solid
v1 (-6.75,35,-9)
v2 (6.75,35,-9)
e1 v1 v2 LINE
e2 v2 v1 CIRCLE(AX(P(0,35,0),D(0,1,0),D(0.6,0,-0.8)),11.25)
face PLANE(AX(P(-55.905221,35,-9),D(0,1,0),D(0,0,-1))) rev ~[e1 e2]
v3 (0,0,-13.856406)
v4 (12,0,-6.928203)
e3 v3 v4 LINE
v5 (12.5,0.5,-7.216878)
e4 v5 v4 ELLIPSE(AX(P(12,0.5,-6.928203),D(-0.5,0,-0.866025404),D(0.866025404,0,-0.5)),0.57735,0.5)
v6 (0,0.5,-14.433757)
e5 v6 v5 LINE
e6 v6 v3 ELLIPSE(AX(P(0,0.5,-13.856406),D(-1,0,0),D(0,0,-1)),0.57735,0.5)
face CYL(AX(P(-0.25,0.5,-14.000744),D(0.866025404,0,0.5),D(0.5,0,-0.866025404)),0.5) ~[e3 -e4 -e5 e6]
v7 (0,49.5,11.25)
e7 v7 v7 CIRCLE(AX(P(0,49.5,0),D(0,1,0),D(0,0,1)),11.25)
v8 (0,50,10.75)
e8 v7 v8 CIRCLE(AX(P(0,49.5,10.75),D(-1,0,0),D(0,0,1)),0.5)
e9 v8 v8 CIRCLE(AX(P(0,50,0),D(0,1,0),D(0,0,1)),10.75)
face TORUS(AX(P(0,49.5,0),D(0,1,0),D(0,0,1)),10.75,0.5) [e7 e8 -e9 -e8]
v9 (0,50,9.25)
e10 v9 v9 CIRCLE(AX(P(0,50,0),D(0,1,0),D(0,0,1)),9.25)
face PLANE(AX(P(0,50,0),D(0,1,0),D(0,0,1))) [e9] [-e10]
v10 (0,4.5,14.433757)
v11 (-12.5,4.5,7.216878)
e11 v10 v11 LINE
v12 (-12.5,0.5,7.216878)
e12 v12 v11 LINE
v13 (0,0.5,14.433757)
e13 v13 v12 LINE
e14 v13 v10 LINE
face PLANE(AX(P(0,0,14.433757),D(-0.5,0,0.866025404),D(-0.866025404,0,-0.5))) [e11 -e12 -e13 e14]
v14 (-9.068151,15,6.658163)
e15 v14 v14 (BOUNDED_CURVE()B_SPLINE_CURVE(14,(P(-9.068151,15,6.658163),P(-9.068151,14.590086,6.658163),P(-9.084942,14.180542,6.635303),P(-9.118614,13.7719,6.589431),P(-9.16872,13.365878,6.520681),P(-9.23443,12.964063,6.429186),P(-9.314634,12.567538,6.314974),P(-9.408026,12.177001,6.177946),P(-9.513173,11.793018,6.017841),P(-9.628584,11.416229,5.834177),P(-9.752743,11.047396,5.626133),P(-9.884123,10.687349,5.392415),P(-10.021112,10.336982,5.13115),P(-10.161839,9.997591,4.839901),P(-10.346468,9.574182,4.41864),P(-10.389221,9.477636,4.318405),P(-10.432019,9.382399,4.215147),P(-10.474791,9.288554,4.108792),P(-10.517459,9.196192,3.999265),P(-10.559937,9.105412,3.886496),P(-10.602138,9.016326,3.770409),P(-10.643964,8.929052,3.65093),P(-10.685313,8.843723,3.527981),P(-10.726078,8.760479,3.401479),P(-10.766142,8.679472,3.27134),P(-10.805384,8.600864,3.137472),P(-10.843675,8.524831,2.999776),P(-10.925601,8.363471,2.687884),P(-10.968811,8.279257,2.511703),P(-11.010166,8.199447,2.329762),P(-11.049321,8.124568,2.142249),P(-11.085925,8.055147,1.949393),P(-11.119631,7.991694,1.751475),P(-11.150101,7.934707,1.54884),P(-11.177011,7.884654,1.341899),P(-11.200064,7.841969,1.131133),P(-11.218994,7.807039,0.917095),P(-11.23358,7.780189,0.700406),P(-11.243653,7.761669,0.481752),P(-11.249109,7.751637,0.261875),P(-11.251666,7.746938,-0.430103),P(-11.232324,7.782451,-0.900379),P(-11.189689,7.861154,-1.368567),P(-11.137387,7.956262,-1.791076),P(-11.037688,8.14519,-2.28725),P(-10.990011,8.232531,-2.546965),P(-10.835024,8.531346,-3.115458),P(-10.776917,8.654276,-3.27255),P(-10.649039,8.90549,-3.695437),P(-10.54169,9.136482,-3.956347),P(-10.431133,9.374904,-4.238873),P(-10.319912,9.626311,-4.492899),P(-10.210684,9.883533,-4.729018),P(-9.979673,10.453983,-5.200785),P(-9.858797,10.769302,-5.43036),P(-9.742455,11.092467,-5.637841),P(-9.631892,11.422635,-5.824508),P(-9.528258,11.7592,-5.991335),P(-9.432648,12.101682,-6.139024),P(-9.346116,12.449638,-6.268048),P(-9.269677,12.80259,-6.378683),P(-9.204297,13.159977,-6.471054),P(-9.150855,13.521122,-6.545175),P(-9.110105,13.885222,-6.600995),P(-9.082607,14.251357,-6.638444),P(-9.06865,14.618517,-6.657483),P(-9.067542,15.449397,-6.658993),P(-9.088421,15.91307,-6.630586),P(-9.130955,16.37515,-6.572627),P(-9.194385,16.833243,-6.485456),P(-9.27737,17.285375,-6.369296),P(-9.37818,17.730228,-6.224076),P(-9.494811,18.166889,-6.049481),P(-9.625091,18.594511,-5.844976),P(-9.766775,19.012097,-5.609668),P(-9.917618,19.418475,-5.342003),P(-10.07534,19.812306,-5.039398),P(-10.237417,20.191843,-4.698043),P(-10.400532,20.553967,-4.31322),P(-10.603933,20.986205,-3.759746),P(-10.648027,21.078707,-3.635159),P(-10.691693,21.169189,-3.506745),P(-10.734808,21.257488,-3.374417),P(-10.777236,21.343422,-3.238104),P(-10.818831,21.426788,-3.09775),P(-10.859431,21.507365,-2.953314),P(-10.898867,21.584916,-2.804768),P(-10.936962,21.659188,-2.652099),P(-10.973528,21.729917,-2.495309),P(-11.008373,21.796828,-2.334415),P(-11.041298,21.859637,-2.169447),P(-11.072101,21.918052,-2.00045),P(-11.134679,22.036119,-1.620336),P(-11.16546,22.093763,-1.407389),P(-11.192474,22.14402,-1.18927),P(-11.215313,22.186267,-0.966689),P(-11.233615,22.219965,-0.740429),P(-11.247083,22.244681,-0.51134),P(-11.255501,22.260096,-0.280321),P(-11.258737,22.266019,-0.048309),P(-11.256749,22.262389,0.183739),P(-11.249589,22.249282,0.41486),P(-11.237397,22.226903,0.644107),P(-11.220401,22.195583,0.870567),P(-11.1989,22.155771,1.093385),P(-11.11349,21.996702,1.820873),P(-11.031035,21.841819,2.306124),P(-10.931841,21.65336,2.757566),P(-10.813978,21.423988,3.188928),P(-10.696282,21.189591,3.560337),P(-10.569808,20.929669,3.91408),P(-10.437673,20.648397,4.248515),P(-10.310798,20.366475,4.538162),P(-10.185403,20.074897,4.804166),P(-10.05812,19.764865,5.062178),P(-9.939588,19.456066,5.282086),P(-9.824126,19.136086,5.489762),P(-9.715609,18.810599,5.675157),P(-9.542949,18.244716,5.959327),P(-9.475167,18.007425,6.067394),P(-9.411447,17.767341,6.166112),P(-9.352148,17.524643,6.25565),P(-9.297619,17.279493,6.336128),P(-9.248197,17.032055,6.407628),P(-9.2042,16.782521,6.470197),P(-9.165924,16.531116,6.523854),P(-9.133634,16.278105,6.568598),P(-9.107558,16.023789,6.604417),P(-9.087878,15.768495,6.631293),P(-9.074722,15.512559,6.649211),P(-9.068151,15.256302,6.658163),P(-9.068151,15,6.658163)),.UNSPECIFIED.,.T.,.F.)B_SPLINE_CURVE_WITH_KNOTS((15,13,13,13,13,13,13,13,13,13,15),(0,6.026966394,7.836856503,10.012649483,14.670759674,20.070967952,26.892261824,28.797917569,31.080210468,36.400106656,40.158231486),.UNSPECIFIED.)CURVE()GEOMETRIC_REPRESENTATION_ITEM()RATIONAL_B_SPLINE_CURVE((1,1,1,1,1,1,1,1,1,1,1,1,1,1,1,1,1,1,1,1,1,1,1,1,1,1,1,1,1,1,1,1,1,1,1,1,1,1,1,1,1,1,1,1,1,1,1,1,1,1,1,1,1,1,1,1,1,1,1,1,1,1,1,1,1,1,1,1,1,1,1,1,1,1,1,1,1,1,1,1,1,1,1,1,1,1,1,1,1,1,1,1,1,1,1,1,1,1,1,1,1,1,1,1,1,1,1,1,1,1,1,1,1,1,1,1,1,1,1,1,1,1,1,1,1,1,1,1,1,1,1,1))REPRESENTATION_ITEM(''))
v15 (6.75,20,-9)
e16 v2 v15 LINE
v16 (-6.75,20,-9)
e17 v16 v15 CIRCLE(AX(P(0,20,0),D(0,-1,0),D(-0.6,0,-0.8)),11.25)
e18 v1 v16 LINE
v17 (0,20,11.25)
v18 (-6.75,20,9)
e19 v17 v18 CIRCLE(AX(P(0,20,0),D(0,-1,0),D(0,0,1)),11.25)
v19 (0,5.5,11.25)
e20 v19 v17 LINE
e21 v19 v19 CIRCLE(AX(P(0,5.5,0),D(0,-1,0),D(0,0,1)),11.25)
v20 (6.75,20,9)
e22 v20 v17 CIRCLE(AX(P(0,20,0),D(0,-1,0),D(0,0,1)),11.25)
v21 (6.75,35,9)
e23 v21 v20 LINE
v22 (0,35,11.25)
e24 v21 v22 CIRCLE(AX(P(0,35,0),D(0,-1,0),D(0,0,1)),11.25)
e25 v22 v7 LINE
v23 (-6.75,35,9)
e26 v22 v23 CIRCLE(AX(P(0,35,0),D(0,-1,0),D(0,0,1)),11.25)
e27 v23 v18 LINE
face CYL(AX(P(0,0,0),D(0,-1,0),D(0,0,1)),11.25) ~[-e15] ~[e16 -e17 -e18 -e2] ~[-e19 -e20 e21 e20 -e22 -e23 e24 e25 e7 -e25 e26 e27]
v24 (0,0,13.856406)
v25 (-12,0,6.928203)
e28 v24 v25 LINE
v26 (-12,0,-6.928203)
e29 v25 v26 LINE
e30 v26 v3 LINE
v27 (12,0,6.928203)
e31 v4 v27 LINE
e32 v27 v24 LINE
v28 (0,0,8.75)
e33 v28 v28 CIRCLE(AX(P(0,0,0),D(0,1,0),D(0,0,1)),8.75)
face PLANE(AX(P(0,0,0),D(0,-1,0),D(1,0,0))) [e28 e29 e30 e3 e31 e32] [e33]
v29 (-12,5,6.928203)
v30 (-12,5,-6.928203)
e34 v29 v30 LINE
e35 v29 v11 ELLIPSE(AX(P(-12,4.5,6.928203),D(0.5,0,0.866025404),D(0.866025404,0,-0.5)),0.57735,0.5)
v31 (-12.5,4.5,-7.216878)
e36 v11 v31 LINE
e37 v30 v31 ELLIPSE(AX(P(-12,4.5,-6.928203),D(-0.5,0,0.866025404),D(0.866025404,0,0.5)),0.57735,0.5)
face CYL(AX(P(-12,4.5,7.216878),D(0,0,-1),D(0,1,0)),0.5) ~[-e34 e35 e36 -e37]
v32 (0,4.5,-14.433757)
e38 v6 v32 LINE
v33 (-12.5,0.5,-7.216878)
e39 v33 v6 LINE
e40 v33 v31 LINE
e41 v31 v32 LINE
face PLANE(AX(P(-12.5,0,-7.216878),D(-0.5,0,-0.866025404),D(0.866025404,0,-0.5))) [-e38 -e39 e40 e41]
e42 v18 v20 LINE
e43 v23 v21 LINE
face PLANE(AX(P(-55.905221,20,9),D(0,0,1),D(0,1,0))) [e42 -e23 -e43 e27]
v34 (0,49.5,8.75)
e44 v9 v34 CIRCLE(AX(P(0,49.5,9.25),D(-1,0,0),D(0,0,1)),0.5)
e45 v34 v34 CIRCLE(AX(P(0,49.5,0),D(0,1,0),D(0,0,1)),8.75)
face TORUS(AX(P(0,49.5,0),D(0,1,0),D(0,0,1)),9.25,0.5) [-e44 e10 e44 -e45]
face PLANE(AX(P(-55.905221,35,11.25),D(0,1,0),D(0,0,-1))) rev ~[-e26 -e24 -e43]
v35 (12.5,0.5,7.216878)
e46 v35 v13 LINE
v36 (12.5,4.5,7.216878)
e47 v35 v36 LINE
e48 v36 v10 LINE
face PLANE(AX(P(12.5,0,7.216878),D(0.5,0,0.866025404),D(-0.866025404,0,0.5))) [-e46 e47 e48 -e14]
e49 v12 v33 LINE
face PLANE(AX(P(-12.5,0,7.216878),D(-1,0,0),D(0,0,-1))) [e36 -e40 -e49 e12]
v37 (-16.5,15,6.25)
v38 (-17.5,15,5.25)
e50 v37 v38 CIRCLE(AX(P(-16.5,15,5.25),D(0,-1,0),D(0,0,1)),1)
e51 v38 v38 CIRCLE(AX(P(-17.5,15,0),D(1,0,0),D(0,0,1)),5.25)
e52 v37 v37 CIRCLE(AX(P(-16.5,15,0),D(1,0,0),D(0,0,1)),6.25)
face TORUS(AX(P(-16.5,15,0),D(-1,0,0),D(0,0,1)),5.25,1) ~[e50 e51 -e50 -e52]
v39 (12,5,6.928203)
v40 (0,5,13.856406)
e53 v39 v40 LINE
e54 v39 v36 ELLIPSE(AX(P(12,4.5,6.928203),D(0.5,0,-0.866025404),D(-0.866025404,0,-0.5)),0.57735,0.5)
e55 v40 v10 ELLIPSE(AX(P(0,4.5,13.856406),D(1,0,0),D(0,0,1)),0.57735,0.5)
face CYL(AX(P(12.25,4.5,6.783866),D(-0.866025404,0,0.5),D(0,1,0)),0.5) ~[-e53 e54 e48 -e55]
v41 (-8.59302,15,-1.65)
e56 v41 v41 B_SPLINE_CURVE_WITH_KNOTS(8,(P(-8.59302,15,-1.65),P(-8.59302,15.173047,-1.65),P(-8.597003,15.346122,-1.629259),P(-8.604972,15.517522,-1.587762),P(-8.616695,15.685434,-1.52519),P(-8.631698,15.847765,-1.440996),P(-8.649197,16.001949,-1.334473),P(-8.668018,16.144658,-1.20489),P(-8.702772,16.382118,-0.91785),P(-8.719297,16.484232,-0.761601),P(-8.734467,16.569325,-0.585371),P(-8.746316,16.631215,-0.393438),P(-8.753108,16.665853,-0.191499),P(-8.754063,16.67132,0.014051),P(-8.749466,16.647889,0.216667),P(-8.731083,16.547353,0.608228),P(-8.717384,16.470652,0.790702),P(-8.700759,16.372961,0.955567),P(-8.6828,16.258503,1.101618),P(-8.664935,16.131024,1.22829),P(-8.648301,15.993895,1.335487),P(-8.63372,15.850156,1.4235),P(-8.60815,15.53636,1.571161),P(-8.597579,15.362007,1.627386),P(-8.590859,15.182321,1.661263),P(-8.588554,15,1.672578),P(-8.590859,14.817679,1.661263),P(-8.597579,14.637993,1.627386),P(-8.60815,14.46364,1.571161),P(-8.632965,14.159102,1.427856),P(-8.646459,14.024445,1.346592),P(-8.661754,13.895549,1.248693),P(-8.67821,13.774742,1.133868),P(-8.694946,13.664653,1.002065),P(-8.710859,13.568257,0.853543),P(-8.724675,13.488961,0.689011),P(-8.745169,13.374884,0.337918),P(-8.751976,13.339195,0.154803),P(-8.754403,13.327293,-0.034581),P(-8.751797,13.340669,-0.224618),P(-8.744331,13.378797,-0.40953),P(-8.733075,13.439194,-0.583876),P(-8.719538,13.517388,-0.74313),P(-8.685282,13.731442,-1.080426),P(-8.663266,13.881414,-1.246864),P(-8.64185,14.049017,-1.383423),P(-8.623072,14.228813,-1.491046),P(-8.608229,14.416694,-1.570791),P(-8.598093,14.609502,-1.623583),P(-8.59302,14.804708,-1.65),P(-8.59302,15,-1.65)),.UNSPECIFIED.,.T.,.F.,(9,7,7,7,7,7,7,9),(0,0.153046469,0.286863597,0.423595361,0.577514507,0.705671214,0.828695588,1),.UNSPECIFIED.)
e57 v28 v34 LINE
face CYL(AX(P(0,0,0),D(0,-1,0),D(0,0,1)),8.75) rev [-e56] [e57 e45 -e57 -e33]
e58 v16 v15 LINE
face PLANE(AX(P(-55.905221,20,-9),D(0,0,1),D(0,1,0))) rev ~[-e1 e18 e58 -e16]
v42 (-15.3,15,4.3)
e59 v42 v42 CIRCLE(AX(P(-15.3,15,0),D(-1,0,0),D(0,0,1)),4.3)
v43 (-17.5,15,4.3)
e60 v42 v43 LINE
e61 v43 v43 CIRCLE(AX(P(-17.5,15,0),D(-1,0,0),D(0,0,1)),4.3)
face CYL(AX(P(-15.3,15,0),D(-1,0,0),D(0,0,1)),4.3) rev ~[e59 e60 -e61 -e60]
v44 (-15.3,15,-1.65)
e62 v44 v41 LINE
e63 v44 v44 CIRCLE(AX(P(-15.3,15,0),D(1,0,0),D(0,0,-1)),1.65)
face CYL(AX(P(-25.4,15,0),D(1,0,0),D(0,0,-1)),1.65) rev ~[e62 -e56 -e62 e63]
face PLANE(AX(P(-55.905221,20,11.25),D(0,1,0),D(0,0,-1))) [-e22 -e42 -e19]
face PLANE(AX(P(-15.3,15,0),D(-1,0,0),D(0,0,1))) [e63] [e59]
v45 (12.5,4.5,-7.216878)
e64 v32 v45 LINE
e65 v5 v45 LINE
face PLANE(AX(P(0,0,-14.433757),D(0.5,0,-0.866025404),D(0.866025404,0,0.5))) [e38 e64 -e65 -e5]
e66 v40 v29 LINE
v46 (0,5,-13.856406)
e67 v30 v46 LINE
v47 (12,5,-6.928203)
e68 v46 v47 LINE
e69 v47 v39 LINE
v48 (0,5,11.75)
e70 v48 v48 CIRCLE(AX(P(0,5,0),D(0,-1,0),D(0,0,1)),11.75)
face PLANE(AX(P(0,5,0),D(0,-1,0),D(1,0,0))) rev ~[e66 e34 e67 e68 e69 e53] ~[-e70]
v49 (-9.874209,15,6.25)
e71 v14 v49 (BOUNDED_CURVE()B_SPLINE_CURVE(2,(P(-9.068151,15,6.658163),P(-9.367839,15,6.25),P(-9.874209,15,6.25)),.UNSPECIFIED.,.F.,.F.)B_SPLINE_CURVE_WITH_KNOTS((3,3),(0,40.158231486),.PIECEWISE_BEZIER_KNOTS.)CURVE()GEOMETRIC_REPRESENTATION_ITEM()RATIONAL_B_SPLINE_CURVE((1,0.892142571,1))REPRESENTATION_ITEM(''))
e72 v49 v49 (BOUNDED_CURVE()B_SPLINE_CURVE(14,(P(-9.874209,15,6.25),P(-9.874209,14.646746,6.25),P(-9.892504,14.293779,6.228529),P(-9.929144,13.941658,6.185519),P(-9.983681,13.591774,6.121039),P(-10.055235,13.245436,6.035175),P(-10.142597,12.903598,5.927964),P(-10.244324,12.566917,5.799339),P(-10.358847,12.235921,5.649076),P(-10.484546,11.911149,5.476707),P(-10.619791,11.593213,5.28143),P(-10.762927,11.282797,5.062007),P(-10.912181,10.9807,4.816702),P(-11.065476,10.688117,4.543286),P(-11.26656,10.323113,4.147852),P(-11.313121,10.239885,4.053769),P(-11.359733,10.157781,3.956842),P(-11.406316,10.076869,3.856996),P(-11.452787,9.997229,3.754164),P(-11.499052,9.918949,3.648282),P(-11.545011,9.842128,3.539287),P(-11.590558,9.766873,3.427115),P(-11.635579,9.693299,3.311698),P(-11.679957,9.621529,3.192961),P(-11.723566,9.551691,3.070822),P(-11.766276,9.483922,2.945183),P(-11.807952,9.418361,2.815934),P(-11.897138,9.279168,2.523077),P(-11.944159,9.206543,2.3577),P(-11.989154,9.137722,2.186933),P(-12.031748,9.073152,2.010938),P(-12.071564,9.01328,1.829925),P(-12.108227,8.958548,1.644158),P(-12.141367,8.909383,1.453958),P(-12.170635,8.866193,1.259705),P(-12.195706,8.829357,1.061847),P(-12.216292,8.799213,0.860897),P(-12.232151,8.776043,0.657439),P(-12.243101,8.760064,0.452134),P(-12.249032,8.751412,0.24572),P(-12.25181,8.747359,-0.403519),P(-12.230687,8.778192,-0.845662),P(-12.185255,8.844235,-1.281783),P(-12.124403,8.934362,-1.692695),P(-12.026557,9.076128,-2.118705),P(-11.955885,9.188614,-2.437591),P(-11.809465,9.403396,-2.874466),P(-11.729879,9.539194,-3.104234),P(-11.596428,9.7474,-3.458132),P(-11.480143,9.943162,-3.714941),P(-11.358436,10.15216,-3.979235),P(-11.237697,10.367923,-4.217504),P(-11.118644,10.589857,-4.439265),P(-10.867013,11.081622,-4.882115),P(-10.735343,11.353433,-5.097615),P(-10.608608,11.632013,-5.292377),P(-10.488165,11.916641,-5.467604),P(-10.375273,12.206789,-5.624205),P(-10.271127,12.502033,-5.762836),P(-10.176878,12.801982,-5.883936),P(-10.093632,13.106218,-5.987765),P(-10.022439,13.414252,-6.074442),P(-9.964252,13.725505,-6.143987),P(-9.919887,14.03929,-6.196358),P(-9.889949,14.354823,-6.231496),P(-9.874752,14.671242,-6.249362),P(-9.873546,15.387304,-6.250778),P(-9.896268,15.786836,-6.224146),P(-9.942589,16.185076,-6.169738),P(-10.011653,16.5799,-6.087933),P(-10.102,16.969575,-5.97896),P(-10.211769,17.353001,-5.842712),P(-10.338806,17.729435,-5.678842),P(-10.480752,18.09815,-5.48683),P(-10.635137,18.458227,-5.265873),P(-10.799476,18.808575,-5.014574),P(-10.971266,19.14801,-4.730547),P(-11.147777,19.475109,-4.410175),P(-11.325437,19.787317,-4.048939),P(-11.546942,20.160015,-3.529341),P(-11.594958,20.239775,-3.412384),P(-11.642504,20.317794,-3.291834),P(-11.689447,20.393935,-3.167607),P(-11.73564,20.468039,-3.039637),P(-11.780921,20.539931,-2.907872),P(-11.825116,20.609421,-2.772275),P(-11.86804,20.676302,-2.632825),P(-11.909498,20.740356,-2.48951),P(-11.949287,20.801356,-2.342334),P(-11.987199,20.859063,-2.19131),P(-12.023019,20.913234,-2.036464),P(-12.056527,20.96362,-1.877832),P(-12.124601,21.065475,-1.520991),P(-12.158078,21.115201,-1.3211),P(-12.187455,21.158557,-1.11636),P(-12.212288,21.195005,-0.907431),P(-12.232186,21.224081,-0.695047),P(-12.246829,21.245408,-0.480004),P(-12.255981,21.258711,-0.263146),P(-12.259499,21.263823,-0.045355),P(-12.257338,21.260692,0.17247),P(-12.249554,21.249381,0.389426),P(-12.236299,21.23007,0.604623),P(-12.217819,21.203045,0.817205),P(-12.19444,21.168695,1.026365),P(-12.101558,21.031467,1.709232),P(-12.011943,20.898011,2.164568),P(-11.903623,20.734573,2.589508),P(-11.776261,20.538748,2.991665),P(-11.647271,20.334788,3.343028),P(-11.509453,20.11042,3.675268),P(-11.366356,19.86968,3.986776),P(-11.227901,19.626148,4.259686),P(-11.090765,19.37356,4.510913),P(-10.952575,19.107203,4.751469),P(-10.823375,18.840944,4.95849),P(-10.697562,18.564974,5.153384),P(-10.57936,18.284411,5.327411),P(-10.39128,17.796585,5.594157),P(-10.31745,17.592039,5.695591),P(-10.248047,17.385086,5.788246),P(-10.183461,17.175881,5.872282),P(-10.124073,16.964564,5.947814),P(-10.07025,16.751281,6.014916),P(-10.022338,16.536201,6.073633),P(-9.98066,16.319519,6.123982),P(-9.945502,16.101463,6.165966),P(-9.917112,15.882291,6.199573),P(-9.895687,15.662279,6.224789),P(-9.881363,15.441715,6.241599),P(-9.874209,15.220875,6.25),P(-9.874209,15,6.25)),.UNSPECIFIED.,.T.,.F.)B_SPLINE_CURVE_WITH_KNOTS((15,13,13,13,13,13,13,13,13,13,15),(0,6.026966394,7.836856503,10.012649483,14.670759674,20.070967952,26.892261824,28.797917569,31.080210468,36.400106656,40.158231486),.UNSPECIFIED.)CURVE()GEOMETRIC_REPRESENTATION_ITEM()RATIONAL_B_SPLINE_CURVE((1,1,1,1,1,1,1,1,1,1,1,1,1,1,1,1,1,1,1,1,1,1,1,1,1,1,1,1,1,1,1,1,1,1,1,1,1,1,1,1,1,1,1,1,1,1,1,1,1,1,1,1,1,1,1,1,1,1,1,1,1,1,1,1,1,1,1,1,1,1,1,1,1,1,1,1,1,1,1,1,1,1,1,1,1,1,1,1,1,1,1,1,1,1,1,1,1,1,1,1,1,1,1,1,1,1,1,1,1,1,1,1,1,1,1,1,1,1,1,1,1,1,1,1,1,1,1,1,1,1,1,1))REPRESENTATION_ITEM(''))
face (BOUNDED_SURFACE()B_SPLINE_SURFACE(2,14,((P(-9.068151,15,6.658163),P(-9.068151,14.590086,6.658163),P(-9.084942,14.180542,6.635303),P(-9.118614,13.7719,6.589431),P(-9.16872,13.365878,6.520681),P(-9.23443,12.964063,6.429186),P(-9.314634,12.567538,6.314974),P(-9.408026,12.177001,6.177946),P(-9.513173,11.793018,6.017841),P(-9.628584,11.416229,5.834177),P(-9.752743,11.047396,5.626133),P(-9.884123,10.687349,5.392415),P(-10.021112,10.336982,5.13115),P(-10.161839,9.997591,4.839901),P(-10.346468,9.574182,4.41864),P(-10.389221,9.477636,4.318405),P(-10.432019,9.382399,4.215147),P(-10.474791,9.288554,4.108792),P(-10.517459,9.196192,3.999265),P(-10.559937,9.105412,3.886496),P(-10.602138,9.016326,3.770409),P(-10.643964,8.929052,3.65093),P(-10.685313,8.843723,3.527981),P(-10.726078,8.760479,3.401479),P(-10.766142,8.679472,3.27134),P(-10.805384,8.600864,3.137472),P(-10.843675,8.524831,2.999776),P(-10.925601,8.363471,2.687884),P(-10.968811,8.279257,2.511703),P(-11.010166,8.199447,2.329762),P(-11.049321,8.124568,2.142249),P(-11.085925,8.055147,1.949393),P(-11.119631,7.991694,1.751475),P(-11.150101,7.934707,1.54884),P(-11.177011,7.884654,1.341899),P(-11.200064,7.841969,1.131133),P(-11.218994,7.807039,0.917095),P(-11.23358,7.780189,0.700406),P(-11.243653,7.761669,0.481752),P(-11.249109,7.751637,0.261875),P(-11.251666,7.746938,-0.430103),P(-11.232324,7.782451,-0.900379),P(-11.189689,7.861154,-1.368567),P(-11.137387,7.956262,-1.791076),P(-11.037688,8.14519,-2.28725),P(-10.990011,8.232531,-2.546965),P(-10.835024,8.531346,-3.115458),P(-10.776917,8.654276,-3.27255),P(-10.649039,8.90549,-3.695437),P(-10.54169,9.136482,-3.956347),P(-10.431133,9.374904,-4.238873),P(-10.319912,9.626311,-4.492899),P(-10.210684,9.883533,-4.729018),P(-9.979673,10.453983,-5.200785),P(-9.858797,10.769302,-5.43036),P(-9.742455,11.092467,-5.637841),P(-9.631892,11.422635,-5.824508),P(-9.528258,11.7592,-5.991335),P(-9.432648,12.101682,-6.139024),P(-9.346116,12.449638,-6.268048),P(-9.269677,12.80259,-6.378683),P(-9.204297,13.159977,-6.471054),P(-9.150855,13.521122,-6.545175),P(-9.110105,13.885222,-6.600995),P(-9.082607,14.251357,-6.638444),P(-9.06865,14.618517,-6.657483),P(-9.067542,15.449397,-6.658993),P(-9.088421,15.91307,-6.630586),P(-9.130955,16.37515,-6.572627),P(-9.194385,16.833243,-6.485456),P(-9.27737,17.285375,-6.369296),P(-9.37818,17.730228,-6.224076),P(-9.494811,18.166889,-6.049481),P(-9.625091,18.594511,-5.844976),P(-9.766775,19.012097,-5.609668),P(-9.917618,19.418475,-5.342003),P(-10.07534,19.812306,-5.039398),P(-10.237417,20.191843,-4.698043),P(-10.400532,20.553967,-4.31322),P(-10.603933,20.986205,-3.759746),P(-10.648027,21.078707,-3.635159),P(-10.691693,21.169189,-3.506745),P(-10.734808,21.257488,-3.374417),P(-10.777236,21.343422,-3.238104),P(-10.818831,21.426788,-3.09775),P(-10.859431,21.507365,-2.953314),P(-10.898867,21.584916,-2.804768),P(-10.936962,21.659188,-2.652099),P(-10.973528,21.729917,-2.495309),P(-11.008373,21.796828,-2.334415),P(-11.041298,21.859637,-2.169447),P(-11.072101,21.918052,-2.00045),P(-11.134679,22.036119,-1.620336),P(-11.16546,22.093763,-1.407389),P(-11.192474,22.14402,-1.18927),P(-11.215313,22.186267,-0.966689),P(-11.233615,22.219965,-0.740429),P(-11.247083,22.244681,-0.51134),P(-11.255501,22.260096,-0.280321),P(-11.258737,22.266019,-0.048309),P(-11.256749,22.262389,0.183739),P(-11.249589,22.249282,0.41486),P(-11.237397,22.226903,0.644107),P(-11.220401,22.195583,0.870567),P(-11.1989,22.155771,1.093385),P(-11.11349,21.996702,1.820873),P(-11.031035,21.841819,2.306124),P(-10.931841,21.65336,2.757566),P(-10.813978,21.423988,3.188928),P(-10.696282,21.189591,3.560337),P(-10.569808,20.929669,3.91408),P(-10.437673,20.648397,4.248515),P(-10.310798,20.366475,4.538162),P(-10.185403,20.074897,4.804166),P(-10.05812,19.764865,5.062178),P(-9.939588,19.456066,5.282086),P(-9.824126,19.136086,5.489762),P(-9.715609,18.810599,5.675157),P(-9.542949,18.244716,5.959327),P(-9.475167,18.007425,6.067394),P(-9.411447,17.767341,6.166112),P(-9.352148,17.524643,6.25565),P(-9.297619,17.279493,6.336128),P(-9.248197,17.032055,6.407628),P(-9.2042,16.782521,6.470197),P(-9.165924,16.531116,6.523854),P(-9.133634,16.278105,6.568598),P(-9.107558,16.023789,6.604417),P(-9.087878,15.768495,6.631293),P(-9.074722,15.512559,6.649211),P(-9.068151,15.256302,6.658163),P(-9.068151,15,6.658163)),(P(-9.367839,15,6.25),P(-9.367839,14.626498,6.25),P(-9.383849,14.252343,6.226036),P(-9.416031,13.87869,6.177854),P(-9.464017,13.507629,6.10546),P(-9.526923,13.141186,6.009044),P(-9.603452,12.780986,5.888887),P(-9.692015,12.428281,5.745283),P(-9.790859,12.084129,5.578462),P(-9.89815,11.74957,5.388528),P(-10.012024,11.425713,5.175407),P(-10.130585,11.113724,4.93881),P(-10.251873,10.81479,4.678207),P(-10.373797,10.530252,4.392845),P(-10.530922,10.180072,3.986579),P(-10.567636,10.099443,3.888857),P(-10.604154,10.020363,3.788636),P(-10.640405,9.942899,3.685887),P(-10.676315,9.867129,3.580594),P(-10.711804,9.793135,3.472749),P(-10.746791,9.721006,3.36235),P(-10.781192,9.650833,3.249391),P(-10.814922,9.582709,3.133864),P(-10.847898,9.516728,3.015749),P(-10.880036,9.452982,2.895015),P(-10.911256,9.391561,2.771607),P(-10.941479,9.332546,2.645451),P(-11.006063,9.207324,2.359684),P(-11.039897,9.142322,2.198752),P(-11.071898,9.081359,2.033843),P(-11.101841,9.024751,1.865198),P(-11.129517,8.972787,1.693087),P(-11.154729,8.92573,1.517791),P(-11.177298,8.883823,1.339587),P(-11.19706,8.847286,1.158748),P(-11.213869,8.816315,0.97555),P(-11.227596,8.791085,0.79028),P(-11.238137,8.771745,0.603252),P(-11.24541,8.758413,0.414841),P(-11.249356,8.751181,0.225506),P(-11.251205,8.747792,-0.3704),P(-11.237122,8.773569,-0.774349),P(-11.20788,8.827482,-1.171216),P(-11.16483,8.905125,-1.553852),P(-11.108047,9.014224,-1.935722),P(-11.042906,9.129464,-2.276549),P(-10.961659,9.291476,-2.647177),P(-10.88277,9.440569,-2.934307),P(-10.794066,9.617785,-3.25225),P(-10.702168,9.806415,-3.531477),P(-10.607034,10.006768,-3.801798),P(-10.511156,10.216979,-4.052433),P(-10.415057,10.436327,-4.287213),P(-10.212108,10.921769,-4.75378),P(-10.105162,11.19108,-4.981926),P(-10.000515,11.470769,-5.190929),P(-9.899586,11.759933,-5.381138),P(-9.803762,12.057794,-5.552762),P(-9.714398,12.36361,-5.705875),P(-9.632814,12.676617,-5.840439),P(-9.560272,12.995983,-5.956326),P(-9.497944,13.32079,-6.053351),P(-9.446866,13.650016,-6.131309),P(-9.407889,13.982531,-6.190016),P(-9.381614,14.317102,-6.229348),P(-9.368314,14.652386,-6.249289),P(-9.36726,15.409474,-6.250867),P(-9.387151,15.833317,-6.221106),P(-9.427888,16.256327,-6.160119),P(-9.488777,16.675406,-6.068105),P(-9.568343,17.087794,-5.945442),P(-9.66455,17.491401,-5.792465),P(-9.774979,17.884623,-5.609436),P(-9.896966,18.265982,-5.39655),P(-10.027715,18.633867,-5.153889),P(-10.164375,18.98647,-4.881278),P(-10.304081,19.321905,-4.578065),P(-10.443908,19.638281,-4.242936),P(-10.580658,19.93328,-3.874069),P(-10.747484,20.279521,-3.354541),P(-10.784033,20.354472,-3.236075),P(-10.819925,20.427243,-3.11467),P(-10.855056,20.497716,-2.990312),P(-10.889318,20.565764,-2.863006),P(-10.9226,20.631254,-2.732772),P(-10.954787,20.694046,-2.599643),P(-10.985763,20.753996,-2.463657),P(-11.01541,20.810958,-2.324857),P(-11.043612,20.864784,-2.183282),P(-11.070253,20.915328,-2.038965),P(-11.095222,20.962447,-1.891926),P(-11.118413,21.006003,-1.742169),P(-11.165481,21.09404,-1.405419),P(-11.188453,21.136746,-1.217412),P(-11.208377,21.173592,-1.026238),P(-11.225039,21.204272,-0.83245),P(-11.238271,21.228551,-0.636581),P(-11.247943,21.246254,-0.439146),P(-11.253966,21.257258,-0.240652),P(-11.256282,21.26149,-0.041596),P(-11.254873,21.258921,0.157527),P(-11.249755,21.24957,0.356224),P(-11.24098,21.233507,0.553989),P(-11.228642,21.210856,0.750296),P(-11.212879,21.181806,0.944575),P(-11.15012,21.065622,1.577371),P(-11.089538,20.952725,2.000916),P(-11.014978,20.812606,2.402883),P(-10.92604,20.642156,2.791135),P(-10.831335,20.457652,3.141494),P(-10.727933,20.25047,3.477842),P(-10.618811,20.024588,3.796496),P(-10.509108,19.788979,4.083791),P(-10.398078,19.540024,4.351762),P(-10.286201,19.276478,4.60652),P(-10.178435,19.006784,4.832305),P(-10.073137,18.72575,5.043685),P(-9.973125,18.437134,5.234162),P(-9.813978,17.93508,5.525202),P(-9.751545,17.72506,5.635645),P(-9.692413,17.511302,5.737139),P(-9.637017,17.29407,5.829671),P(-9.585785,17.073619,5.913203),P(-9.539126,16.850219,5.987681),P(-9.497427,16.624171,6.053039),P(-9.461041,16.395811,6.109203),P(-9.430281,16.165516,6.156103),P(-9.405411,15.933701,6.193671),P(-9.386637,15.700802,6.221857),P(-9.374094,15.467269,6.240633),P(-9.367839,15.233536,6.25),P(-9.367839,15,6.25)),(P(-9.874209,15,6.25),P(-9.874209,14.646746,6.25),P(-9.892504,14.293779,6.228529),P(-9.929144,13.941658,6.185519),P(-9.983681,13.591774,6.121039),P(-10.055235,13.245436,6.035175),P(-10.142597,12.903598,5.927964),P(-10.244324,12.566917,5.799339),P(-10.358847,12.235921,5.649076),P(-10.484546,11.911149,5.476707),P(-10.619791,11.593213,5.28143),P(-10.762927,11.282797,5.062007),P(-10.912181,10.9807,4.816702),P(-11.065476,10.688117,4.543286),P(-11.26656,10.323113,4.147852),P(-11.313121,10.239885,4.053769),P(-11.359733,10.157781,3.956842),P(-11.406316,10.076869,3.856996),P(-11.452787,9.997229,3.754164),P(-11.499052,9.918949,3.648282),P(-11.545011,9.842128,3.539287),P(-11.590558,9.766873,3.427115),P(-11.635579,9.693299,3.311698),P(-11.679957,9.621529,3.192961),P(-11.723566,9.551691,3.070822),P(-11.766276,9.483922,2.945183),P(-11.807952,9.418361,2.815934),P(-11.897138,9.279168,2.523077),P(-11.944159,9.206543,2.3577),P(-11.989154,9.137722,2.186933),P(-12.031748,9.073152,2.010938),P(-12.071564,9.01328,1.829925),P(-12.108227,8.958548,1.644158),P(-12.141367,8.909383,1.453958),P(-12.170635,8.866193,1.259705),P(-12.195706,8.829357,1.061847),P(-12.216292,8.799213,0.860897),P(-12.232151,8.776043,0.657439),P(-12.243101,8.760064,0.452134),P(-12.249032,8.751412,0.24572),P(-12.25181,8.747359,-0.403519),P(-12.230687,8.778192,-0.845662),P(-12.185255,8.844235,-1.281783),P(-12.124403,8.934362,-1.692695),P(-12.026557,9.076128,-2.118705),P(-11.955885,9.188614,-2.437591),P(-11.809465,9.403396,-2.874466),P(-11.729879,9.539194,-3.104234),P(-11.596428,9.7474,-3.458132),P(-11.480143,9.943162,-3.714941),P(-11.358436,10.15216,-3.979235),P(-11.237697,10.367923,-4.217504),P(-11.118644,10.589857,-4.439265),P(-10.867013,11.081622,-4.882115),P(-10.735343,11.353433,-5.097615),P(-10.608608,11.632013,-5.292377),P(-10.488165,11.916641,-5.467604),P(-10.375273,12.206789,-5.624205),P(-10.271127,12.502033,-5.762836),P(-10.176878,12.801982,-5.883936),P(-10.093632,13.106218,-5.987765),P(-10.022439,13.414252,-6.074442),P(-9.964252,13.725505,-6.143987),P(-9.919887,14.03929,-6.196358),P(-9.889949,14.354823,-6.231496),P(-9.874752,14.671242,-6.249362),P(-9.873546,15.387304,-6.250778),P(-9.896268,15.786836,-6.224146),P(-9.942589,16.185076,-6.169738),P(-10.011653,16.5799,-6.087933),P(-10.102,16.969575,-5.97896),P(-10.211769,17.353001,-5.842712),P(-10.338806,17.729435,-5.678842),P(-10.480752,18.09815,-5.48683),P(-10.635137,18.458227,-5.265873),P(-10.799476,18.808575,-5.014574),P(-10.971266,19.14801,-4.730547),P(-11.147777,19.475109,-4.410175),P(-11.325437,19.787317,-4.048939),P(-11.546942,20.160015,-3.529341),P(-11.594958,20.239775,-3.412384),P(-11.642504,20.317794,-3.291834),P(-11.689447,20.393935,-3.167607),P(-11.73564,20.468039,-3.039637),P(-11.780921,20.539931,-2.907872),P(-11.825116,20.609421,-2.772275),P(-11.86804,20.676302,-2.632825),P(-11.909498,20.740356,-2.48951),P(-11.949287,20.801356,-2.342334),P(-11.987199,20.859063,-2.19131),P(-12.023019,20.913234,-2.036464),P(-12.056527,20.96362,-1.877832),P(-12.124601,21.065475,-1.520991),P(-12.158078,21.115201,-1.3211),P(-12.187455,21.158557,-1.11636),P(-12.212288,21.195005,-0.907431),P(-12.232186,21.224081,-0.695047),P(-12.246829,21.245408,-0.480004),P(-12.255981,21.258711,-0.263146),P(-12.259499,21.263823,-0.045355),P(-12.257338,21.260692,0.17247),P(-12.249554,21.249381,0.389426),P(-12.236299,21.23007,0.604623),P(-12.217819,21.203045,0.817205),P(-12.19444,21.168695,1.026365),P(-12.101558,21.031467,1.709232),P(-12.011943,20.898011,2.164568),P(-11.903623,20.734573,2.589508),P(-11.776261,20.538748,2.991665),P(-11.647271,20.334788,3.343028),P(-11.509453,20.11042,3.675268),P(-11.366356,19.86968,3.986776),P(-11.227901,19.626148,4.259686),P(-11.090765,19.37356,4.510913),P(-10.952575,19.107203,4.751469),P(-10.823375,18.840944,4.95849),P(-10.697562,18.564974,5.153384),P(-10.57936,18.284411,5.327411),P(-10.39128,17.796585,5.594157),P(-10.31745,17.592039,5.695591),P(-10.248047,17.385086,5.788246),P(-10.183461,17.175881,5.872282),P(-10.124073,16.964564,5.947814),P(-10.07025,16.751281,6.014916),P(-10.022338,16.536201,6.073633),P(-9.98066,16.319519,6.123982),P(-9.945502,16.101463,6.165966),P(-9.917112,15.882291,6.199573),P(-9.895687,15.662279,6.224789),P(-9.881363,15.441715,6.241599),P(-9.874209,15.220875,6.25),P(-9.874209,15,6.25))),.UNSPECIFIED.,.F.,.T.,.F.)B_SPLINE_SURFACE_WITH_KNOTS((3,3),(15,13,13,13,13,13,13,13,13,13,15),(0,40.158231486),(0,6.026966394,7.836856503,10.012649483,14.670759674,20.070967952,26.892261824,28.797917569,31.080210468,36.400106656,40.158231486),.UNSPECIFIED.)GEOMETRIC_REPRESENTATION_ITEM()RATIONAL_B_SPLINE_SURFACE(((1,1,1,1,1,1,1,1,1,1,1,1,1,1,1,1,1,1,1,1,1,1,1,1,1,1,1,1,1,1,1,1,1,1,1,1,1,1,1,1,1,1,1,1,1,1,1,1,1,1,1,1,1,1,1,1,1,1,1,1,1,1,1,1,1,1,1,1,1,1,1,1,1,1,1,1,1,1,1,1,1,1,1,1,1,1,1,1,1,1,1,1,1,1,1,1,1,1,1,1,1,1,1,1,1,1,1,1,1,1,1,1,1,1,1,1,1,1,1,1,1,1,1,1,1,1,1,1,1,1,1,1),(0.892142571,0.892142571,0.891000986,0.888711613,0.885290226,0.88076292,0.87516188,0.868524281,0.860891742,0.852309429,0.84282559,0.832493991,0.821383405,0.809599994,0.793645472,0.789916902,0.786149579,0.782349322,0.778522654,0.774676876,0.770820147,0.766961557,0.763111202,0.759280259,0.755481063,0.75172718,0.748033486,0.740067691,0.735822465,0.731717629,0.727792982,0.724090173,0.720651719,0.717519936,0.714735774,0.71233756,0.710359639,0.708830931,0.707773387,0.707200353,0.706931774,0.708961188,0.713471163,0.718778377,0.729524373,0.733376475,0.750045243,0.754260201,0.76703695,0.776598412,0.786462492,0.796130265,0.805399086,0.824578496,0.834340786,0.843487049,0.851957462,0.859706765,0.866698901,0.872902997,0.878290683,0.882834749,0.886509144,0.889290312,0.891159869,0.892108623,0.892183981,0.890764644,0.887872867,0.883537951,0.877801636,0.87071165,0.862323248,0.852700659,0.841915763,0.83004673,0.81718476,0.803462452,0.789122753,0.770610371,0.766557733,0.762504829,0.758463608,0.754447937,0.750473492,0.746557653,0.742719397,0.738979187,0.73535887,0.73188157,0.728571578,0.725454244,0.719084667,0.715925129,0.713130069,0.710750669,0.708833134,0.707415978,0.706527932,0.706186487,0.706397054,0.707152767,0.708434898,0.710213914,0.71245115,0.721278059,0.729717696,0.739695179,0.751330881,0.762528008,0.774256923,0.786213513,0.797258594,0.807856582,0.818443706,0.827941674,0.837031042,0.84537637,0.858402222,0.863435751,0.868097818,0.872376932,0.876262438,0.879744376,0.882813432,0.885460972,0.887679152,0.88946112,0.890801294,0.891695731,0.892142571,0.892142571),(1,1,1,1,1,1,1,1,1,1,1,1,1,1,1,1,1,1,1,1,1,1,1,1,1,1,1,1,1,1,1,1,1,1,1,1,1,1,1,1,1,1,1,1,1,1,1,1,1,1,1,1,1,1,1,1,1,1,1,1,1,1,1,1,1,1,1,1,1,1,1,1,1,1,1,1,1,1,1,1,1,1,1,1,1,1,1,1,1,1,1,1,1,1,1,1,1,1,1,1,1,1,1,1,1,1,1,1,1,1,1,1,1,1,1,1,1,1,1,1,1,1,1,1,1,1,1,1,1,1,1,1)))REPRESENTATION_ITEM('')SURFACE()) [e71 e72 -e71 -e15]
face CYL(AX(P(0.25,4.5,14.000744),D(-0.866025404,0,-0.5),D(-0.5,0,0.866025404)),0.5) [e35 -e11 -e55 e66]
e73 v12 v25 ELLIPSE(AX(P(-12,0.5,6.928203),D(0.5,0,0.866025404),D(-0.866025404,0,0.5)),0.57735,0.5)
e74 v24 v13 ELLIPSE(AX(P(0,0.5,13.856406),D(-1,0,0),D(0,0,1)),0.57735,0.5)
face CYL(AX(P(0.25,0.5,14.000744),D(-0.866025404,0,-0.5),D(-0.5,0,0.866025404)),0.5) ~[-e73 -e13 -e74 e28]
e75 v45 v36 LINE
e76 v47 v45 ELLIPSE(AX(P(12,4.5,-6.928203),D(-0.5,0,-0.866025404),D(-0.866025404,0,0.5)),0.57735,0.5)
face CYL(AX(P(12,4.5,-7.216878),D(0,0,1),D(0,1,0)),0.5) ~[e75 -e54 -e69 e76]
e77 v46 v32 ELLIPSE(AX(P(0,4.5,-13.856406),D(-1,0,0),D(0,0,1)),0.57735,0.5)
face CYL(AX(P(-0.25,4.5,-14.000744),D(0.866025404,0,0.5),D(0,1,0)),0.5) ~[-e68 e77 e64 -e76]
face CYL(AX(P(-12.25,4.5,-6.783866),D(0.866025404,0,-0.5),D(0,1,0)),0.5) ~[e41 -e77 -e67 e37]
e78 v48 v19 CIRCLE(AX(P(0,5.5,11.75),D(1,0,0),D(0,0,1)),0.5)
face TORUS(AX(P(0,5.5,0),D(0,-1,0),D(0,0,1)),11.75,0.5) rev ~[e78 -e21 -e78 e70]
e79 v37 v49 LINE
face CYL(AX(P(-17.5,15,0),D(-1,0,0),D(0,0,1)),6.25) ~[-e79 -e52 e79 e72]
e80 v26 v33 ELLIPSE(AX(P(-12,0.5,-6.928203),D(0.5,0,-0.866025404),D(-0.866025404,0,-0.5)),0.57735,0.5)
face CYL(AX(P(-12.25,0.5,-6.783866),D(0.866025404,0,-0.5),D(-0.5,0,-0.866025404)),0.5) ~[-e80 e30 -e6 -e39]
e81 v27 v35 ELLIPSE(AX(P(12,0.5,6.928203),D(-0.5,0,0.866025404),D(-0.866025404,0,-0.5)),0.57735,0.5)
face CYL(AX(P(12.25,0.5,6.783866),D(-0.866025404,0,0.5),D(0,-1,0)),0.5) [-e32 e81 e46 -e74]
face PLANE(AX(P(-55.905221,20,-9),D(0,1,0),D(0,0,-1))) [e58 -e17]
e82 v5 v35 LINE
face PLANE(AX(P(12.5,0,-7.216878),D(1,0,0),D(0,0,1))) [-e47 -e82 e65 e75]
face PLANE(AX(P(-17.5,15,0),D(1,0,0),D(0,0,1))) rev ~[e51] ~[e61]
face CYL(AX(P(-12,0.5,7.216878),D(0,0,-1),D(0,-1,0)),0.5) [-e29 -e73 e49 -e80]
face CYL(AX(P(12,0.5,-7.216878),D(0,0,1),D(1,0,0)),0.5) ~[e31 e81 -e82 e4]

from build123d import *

# Parameters (mm, degrees)
SKETCH5_R                       = 11.25
SKETCH5_R_2                     = 8.75
BOSS_EXTRUDE3_DEPTH             = 50
SKETCH6_R                       = 8.75
BOSS_EXTRUDE4_DEPTH             = 5
FILLET1_R                       = 0.5
BOSS_EXTRUDE6_REACH             = 62.069
BOSS_EXTRUDE6_END_RADIUS        = 11.25
SKETCH16_R                      = 6.25
CBORE_FOR_M4_SBHCS1_D           = 3
CBORE_FOR_M4_SBHCS1_DEPTH       = 10
CBORE_FOR_M4_SBHCS1_CBORE_D     = 8.6
CBORE_FOR_M4_SBHCS1_CBORE_DEPTH = 2.2
CBORE_FOR_M4_SBHCS1_TIP         = 0.901290929
CUT_EXTRUDE1_DEPTH              = 55.90522149
CUT_EXTRUDE1_DEPTH_BACK         = 55.90522149
SKETCH11_W                      = 2.25
SKETCH11_H                      = 15
M4X0_7_TAPPED_HOLE1_D           = 3.3
M4X0_7_TAPPED_HOLE1_DEPTH       = 10.1
M4X0_7_TAPPED_HOLE1_TIP         = 0.991420021
FILLET3_R                       = 1


with BuildPart() as part:
    # Sketch5 → Boss-Extrude3 (new body)
    with BuildSketch(Plane(origin=(0, 0, 0), x_dir=(1, 0, 0), z_dir=(0, 1, 0))):
        with Locations(Location((0, 0, 0), (0, 0, 270))):
            Circle(SKETCH5_R)
        with Locations(Location((0, 0, 0), (0, 0, 270))):
            Circle(SKETCH5_R_2, mode=Mode.SUBTRACT)
    extrude(amount=BOSS_EXTRUDE3_DEPTH)

    # Sketch6 → Boss-Extrude4 (add)
    with BuildSketch(Plane.XZ):
        Polygon((0, 14.43375673), (-12.5, 7.216878365), (-12.5, -7.216878365), (0, -14.43375673), (12.5, -7.216878365), (12.5, 7.216878365), align=None)
        with Locations(Location((0, 0, 0), (0, 0, 90))):
            Circle(SKETCH6_R, mode=Mode.SUBTRACT)
    extrude(amount=-BOSS_EXTRUDE4_DEPTH)

    # Fillet1
    fillet1_edges = [part.edges().sort_by_distance(p)[0] for p in [
        (0, 5, -11.25),
        (6.25, 0, 10.825317547),
        (-6.25, 0, 10.825317547),
        (-12.5, 0, 0),
        (-6.25, 0, -10.825317547),
        (6.25, 0, -10.825317547),
        (12.5, 0, 0),
        (6.25, 5, 10.825317547),
        (12.5, 5, 0),
        (6.25, 5, -10.825317547),
        (-6.25, 5, -10.825317547),
        (-12.5, 5, 0),
        (-6.25, 5, 10.825317547),
        (0, 50, -11.25),
        (0, 50, -8.75),
    ]]
    fillet(fillet1_edges, radius=FILLET1_R)

    # Boss-Extrude6: up to this cylinder (the profile starts outside it)
    boss_extrude6_end = Plane(origin=(0, 15, 0), z_dir=(0, -1, 0)) * Cylinder(BOSS_EXTRUDE6_END_RADIUS, 147.638, mode=Mode.PRIVATE)
    # Sketch16 → Boss-Extrude6 (add, up to the surface)
    with BuildSketch(Plane(origin=(-17.5, 0, 0), x_dir=(0, 0, -1), z_dir=(1, 0, 0)), mode=Mode.PRIVATE) as boss_extrude6_sk1:
        with Locations(Location((0, 15, 0), (0, 0, 180))):
            Circle(SKETCH16_R)
    boss_extrude6_tool1 = extrude(boss_extrude6_sk1.sketch, amount=BOSS_EXTRUDE6_REACH, mode=Mode.PRIVATE) - boss_extrude6_end
    add(boss_extrude6_tool1.solids().sort_by_distance((-17.5, 15, 0))[0])

    # CBORE for M4 SBHCS1
    with Locations(Plane.ZY.offset(17.5)):
        with Locations((0, 15)):
            CounterBoreHole(CBORE_FOR_M4_SBHCS1_D / 2, CBORE_FOR_M4_SBHCS1_CBORE_D / 2, CBORE_FOR_M4_SBHCS1_CBORE_DEPTH, depth=CBORE_FOR_M4_SBHCS1_DEPTH)
            with Locations((0, 0, -(CBORE_FOR_M4_SBHCS1_DEPTH + CBORE_FOR_M4_SBHCS1_TIP / 2))):  # 118° drill point
                Cone(0, CBORE_FOR_M4_SBHCS1_D / 2, CBORE_FOR_M4_SBHCS1_TIP, mode=Mode.SUBTRACT)

    # Sketch11 → Cut-Extrude1 (cut, two sides: drawn at the far end of the back side and taken through both)
    with BuildSketch(Plane(origin=(0, 0, 0), x_dir=(0, 0, -1), z_dir=(1, 0, 0)).offset(-CUT_EXTRUDE1_DEPTH_BACK)):
        with Locations((-10.125, 27.5)):
            Rectangle(SKETCH11_W, SKETCH11_H)
        with Locations((10.125, 27.5)):
            Rectangle(SKETCH11_W, SKETCH11_H)
    extrude(amount=CUT_EXTRUDE1_DEPTH + CUT_EXTRUDE1_DEPTH_BACK, mode=Mode.SUBTRACT)

    # M4x0.7 Tapped Hole1
    with Locations(Plane.ZY.offset(15.3)):
        with Locations((0, 15)):
            Hole(M4X0_7_TAPPED_HOLE1_D / 2, depth=M4X0_7_TAPPED_HOLE1_DEPTH)
            with Locations((0, 0, -(M4X0_7_TAPPED_HOLE1_DEPTH + M4X0_7_TAPPED_HOLE1_TIP / 2))):  # 118° drill point
                Cone(0, M4X0_7_TAPPED_HOLE1_D / 2, M4X0_7_TAPPED_HOLE1_TIP, mode=Mode.SUBTRACT)

    # Fillet3
    fillet3_edges = [part.edges().sort_by_distance(p)[0] for p in [
        (-9.354143467, 15, -6.25),
        (-17.5, 15, -6.25),
    ]]
    fillet(fillet3_edges, radius=FILLET3_R)


solid = part.part
